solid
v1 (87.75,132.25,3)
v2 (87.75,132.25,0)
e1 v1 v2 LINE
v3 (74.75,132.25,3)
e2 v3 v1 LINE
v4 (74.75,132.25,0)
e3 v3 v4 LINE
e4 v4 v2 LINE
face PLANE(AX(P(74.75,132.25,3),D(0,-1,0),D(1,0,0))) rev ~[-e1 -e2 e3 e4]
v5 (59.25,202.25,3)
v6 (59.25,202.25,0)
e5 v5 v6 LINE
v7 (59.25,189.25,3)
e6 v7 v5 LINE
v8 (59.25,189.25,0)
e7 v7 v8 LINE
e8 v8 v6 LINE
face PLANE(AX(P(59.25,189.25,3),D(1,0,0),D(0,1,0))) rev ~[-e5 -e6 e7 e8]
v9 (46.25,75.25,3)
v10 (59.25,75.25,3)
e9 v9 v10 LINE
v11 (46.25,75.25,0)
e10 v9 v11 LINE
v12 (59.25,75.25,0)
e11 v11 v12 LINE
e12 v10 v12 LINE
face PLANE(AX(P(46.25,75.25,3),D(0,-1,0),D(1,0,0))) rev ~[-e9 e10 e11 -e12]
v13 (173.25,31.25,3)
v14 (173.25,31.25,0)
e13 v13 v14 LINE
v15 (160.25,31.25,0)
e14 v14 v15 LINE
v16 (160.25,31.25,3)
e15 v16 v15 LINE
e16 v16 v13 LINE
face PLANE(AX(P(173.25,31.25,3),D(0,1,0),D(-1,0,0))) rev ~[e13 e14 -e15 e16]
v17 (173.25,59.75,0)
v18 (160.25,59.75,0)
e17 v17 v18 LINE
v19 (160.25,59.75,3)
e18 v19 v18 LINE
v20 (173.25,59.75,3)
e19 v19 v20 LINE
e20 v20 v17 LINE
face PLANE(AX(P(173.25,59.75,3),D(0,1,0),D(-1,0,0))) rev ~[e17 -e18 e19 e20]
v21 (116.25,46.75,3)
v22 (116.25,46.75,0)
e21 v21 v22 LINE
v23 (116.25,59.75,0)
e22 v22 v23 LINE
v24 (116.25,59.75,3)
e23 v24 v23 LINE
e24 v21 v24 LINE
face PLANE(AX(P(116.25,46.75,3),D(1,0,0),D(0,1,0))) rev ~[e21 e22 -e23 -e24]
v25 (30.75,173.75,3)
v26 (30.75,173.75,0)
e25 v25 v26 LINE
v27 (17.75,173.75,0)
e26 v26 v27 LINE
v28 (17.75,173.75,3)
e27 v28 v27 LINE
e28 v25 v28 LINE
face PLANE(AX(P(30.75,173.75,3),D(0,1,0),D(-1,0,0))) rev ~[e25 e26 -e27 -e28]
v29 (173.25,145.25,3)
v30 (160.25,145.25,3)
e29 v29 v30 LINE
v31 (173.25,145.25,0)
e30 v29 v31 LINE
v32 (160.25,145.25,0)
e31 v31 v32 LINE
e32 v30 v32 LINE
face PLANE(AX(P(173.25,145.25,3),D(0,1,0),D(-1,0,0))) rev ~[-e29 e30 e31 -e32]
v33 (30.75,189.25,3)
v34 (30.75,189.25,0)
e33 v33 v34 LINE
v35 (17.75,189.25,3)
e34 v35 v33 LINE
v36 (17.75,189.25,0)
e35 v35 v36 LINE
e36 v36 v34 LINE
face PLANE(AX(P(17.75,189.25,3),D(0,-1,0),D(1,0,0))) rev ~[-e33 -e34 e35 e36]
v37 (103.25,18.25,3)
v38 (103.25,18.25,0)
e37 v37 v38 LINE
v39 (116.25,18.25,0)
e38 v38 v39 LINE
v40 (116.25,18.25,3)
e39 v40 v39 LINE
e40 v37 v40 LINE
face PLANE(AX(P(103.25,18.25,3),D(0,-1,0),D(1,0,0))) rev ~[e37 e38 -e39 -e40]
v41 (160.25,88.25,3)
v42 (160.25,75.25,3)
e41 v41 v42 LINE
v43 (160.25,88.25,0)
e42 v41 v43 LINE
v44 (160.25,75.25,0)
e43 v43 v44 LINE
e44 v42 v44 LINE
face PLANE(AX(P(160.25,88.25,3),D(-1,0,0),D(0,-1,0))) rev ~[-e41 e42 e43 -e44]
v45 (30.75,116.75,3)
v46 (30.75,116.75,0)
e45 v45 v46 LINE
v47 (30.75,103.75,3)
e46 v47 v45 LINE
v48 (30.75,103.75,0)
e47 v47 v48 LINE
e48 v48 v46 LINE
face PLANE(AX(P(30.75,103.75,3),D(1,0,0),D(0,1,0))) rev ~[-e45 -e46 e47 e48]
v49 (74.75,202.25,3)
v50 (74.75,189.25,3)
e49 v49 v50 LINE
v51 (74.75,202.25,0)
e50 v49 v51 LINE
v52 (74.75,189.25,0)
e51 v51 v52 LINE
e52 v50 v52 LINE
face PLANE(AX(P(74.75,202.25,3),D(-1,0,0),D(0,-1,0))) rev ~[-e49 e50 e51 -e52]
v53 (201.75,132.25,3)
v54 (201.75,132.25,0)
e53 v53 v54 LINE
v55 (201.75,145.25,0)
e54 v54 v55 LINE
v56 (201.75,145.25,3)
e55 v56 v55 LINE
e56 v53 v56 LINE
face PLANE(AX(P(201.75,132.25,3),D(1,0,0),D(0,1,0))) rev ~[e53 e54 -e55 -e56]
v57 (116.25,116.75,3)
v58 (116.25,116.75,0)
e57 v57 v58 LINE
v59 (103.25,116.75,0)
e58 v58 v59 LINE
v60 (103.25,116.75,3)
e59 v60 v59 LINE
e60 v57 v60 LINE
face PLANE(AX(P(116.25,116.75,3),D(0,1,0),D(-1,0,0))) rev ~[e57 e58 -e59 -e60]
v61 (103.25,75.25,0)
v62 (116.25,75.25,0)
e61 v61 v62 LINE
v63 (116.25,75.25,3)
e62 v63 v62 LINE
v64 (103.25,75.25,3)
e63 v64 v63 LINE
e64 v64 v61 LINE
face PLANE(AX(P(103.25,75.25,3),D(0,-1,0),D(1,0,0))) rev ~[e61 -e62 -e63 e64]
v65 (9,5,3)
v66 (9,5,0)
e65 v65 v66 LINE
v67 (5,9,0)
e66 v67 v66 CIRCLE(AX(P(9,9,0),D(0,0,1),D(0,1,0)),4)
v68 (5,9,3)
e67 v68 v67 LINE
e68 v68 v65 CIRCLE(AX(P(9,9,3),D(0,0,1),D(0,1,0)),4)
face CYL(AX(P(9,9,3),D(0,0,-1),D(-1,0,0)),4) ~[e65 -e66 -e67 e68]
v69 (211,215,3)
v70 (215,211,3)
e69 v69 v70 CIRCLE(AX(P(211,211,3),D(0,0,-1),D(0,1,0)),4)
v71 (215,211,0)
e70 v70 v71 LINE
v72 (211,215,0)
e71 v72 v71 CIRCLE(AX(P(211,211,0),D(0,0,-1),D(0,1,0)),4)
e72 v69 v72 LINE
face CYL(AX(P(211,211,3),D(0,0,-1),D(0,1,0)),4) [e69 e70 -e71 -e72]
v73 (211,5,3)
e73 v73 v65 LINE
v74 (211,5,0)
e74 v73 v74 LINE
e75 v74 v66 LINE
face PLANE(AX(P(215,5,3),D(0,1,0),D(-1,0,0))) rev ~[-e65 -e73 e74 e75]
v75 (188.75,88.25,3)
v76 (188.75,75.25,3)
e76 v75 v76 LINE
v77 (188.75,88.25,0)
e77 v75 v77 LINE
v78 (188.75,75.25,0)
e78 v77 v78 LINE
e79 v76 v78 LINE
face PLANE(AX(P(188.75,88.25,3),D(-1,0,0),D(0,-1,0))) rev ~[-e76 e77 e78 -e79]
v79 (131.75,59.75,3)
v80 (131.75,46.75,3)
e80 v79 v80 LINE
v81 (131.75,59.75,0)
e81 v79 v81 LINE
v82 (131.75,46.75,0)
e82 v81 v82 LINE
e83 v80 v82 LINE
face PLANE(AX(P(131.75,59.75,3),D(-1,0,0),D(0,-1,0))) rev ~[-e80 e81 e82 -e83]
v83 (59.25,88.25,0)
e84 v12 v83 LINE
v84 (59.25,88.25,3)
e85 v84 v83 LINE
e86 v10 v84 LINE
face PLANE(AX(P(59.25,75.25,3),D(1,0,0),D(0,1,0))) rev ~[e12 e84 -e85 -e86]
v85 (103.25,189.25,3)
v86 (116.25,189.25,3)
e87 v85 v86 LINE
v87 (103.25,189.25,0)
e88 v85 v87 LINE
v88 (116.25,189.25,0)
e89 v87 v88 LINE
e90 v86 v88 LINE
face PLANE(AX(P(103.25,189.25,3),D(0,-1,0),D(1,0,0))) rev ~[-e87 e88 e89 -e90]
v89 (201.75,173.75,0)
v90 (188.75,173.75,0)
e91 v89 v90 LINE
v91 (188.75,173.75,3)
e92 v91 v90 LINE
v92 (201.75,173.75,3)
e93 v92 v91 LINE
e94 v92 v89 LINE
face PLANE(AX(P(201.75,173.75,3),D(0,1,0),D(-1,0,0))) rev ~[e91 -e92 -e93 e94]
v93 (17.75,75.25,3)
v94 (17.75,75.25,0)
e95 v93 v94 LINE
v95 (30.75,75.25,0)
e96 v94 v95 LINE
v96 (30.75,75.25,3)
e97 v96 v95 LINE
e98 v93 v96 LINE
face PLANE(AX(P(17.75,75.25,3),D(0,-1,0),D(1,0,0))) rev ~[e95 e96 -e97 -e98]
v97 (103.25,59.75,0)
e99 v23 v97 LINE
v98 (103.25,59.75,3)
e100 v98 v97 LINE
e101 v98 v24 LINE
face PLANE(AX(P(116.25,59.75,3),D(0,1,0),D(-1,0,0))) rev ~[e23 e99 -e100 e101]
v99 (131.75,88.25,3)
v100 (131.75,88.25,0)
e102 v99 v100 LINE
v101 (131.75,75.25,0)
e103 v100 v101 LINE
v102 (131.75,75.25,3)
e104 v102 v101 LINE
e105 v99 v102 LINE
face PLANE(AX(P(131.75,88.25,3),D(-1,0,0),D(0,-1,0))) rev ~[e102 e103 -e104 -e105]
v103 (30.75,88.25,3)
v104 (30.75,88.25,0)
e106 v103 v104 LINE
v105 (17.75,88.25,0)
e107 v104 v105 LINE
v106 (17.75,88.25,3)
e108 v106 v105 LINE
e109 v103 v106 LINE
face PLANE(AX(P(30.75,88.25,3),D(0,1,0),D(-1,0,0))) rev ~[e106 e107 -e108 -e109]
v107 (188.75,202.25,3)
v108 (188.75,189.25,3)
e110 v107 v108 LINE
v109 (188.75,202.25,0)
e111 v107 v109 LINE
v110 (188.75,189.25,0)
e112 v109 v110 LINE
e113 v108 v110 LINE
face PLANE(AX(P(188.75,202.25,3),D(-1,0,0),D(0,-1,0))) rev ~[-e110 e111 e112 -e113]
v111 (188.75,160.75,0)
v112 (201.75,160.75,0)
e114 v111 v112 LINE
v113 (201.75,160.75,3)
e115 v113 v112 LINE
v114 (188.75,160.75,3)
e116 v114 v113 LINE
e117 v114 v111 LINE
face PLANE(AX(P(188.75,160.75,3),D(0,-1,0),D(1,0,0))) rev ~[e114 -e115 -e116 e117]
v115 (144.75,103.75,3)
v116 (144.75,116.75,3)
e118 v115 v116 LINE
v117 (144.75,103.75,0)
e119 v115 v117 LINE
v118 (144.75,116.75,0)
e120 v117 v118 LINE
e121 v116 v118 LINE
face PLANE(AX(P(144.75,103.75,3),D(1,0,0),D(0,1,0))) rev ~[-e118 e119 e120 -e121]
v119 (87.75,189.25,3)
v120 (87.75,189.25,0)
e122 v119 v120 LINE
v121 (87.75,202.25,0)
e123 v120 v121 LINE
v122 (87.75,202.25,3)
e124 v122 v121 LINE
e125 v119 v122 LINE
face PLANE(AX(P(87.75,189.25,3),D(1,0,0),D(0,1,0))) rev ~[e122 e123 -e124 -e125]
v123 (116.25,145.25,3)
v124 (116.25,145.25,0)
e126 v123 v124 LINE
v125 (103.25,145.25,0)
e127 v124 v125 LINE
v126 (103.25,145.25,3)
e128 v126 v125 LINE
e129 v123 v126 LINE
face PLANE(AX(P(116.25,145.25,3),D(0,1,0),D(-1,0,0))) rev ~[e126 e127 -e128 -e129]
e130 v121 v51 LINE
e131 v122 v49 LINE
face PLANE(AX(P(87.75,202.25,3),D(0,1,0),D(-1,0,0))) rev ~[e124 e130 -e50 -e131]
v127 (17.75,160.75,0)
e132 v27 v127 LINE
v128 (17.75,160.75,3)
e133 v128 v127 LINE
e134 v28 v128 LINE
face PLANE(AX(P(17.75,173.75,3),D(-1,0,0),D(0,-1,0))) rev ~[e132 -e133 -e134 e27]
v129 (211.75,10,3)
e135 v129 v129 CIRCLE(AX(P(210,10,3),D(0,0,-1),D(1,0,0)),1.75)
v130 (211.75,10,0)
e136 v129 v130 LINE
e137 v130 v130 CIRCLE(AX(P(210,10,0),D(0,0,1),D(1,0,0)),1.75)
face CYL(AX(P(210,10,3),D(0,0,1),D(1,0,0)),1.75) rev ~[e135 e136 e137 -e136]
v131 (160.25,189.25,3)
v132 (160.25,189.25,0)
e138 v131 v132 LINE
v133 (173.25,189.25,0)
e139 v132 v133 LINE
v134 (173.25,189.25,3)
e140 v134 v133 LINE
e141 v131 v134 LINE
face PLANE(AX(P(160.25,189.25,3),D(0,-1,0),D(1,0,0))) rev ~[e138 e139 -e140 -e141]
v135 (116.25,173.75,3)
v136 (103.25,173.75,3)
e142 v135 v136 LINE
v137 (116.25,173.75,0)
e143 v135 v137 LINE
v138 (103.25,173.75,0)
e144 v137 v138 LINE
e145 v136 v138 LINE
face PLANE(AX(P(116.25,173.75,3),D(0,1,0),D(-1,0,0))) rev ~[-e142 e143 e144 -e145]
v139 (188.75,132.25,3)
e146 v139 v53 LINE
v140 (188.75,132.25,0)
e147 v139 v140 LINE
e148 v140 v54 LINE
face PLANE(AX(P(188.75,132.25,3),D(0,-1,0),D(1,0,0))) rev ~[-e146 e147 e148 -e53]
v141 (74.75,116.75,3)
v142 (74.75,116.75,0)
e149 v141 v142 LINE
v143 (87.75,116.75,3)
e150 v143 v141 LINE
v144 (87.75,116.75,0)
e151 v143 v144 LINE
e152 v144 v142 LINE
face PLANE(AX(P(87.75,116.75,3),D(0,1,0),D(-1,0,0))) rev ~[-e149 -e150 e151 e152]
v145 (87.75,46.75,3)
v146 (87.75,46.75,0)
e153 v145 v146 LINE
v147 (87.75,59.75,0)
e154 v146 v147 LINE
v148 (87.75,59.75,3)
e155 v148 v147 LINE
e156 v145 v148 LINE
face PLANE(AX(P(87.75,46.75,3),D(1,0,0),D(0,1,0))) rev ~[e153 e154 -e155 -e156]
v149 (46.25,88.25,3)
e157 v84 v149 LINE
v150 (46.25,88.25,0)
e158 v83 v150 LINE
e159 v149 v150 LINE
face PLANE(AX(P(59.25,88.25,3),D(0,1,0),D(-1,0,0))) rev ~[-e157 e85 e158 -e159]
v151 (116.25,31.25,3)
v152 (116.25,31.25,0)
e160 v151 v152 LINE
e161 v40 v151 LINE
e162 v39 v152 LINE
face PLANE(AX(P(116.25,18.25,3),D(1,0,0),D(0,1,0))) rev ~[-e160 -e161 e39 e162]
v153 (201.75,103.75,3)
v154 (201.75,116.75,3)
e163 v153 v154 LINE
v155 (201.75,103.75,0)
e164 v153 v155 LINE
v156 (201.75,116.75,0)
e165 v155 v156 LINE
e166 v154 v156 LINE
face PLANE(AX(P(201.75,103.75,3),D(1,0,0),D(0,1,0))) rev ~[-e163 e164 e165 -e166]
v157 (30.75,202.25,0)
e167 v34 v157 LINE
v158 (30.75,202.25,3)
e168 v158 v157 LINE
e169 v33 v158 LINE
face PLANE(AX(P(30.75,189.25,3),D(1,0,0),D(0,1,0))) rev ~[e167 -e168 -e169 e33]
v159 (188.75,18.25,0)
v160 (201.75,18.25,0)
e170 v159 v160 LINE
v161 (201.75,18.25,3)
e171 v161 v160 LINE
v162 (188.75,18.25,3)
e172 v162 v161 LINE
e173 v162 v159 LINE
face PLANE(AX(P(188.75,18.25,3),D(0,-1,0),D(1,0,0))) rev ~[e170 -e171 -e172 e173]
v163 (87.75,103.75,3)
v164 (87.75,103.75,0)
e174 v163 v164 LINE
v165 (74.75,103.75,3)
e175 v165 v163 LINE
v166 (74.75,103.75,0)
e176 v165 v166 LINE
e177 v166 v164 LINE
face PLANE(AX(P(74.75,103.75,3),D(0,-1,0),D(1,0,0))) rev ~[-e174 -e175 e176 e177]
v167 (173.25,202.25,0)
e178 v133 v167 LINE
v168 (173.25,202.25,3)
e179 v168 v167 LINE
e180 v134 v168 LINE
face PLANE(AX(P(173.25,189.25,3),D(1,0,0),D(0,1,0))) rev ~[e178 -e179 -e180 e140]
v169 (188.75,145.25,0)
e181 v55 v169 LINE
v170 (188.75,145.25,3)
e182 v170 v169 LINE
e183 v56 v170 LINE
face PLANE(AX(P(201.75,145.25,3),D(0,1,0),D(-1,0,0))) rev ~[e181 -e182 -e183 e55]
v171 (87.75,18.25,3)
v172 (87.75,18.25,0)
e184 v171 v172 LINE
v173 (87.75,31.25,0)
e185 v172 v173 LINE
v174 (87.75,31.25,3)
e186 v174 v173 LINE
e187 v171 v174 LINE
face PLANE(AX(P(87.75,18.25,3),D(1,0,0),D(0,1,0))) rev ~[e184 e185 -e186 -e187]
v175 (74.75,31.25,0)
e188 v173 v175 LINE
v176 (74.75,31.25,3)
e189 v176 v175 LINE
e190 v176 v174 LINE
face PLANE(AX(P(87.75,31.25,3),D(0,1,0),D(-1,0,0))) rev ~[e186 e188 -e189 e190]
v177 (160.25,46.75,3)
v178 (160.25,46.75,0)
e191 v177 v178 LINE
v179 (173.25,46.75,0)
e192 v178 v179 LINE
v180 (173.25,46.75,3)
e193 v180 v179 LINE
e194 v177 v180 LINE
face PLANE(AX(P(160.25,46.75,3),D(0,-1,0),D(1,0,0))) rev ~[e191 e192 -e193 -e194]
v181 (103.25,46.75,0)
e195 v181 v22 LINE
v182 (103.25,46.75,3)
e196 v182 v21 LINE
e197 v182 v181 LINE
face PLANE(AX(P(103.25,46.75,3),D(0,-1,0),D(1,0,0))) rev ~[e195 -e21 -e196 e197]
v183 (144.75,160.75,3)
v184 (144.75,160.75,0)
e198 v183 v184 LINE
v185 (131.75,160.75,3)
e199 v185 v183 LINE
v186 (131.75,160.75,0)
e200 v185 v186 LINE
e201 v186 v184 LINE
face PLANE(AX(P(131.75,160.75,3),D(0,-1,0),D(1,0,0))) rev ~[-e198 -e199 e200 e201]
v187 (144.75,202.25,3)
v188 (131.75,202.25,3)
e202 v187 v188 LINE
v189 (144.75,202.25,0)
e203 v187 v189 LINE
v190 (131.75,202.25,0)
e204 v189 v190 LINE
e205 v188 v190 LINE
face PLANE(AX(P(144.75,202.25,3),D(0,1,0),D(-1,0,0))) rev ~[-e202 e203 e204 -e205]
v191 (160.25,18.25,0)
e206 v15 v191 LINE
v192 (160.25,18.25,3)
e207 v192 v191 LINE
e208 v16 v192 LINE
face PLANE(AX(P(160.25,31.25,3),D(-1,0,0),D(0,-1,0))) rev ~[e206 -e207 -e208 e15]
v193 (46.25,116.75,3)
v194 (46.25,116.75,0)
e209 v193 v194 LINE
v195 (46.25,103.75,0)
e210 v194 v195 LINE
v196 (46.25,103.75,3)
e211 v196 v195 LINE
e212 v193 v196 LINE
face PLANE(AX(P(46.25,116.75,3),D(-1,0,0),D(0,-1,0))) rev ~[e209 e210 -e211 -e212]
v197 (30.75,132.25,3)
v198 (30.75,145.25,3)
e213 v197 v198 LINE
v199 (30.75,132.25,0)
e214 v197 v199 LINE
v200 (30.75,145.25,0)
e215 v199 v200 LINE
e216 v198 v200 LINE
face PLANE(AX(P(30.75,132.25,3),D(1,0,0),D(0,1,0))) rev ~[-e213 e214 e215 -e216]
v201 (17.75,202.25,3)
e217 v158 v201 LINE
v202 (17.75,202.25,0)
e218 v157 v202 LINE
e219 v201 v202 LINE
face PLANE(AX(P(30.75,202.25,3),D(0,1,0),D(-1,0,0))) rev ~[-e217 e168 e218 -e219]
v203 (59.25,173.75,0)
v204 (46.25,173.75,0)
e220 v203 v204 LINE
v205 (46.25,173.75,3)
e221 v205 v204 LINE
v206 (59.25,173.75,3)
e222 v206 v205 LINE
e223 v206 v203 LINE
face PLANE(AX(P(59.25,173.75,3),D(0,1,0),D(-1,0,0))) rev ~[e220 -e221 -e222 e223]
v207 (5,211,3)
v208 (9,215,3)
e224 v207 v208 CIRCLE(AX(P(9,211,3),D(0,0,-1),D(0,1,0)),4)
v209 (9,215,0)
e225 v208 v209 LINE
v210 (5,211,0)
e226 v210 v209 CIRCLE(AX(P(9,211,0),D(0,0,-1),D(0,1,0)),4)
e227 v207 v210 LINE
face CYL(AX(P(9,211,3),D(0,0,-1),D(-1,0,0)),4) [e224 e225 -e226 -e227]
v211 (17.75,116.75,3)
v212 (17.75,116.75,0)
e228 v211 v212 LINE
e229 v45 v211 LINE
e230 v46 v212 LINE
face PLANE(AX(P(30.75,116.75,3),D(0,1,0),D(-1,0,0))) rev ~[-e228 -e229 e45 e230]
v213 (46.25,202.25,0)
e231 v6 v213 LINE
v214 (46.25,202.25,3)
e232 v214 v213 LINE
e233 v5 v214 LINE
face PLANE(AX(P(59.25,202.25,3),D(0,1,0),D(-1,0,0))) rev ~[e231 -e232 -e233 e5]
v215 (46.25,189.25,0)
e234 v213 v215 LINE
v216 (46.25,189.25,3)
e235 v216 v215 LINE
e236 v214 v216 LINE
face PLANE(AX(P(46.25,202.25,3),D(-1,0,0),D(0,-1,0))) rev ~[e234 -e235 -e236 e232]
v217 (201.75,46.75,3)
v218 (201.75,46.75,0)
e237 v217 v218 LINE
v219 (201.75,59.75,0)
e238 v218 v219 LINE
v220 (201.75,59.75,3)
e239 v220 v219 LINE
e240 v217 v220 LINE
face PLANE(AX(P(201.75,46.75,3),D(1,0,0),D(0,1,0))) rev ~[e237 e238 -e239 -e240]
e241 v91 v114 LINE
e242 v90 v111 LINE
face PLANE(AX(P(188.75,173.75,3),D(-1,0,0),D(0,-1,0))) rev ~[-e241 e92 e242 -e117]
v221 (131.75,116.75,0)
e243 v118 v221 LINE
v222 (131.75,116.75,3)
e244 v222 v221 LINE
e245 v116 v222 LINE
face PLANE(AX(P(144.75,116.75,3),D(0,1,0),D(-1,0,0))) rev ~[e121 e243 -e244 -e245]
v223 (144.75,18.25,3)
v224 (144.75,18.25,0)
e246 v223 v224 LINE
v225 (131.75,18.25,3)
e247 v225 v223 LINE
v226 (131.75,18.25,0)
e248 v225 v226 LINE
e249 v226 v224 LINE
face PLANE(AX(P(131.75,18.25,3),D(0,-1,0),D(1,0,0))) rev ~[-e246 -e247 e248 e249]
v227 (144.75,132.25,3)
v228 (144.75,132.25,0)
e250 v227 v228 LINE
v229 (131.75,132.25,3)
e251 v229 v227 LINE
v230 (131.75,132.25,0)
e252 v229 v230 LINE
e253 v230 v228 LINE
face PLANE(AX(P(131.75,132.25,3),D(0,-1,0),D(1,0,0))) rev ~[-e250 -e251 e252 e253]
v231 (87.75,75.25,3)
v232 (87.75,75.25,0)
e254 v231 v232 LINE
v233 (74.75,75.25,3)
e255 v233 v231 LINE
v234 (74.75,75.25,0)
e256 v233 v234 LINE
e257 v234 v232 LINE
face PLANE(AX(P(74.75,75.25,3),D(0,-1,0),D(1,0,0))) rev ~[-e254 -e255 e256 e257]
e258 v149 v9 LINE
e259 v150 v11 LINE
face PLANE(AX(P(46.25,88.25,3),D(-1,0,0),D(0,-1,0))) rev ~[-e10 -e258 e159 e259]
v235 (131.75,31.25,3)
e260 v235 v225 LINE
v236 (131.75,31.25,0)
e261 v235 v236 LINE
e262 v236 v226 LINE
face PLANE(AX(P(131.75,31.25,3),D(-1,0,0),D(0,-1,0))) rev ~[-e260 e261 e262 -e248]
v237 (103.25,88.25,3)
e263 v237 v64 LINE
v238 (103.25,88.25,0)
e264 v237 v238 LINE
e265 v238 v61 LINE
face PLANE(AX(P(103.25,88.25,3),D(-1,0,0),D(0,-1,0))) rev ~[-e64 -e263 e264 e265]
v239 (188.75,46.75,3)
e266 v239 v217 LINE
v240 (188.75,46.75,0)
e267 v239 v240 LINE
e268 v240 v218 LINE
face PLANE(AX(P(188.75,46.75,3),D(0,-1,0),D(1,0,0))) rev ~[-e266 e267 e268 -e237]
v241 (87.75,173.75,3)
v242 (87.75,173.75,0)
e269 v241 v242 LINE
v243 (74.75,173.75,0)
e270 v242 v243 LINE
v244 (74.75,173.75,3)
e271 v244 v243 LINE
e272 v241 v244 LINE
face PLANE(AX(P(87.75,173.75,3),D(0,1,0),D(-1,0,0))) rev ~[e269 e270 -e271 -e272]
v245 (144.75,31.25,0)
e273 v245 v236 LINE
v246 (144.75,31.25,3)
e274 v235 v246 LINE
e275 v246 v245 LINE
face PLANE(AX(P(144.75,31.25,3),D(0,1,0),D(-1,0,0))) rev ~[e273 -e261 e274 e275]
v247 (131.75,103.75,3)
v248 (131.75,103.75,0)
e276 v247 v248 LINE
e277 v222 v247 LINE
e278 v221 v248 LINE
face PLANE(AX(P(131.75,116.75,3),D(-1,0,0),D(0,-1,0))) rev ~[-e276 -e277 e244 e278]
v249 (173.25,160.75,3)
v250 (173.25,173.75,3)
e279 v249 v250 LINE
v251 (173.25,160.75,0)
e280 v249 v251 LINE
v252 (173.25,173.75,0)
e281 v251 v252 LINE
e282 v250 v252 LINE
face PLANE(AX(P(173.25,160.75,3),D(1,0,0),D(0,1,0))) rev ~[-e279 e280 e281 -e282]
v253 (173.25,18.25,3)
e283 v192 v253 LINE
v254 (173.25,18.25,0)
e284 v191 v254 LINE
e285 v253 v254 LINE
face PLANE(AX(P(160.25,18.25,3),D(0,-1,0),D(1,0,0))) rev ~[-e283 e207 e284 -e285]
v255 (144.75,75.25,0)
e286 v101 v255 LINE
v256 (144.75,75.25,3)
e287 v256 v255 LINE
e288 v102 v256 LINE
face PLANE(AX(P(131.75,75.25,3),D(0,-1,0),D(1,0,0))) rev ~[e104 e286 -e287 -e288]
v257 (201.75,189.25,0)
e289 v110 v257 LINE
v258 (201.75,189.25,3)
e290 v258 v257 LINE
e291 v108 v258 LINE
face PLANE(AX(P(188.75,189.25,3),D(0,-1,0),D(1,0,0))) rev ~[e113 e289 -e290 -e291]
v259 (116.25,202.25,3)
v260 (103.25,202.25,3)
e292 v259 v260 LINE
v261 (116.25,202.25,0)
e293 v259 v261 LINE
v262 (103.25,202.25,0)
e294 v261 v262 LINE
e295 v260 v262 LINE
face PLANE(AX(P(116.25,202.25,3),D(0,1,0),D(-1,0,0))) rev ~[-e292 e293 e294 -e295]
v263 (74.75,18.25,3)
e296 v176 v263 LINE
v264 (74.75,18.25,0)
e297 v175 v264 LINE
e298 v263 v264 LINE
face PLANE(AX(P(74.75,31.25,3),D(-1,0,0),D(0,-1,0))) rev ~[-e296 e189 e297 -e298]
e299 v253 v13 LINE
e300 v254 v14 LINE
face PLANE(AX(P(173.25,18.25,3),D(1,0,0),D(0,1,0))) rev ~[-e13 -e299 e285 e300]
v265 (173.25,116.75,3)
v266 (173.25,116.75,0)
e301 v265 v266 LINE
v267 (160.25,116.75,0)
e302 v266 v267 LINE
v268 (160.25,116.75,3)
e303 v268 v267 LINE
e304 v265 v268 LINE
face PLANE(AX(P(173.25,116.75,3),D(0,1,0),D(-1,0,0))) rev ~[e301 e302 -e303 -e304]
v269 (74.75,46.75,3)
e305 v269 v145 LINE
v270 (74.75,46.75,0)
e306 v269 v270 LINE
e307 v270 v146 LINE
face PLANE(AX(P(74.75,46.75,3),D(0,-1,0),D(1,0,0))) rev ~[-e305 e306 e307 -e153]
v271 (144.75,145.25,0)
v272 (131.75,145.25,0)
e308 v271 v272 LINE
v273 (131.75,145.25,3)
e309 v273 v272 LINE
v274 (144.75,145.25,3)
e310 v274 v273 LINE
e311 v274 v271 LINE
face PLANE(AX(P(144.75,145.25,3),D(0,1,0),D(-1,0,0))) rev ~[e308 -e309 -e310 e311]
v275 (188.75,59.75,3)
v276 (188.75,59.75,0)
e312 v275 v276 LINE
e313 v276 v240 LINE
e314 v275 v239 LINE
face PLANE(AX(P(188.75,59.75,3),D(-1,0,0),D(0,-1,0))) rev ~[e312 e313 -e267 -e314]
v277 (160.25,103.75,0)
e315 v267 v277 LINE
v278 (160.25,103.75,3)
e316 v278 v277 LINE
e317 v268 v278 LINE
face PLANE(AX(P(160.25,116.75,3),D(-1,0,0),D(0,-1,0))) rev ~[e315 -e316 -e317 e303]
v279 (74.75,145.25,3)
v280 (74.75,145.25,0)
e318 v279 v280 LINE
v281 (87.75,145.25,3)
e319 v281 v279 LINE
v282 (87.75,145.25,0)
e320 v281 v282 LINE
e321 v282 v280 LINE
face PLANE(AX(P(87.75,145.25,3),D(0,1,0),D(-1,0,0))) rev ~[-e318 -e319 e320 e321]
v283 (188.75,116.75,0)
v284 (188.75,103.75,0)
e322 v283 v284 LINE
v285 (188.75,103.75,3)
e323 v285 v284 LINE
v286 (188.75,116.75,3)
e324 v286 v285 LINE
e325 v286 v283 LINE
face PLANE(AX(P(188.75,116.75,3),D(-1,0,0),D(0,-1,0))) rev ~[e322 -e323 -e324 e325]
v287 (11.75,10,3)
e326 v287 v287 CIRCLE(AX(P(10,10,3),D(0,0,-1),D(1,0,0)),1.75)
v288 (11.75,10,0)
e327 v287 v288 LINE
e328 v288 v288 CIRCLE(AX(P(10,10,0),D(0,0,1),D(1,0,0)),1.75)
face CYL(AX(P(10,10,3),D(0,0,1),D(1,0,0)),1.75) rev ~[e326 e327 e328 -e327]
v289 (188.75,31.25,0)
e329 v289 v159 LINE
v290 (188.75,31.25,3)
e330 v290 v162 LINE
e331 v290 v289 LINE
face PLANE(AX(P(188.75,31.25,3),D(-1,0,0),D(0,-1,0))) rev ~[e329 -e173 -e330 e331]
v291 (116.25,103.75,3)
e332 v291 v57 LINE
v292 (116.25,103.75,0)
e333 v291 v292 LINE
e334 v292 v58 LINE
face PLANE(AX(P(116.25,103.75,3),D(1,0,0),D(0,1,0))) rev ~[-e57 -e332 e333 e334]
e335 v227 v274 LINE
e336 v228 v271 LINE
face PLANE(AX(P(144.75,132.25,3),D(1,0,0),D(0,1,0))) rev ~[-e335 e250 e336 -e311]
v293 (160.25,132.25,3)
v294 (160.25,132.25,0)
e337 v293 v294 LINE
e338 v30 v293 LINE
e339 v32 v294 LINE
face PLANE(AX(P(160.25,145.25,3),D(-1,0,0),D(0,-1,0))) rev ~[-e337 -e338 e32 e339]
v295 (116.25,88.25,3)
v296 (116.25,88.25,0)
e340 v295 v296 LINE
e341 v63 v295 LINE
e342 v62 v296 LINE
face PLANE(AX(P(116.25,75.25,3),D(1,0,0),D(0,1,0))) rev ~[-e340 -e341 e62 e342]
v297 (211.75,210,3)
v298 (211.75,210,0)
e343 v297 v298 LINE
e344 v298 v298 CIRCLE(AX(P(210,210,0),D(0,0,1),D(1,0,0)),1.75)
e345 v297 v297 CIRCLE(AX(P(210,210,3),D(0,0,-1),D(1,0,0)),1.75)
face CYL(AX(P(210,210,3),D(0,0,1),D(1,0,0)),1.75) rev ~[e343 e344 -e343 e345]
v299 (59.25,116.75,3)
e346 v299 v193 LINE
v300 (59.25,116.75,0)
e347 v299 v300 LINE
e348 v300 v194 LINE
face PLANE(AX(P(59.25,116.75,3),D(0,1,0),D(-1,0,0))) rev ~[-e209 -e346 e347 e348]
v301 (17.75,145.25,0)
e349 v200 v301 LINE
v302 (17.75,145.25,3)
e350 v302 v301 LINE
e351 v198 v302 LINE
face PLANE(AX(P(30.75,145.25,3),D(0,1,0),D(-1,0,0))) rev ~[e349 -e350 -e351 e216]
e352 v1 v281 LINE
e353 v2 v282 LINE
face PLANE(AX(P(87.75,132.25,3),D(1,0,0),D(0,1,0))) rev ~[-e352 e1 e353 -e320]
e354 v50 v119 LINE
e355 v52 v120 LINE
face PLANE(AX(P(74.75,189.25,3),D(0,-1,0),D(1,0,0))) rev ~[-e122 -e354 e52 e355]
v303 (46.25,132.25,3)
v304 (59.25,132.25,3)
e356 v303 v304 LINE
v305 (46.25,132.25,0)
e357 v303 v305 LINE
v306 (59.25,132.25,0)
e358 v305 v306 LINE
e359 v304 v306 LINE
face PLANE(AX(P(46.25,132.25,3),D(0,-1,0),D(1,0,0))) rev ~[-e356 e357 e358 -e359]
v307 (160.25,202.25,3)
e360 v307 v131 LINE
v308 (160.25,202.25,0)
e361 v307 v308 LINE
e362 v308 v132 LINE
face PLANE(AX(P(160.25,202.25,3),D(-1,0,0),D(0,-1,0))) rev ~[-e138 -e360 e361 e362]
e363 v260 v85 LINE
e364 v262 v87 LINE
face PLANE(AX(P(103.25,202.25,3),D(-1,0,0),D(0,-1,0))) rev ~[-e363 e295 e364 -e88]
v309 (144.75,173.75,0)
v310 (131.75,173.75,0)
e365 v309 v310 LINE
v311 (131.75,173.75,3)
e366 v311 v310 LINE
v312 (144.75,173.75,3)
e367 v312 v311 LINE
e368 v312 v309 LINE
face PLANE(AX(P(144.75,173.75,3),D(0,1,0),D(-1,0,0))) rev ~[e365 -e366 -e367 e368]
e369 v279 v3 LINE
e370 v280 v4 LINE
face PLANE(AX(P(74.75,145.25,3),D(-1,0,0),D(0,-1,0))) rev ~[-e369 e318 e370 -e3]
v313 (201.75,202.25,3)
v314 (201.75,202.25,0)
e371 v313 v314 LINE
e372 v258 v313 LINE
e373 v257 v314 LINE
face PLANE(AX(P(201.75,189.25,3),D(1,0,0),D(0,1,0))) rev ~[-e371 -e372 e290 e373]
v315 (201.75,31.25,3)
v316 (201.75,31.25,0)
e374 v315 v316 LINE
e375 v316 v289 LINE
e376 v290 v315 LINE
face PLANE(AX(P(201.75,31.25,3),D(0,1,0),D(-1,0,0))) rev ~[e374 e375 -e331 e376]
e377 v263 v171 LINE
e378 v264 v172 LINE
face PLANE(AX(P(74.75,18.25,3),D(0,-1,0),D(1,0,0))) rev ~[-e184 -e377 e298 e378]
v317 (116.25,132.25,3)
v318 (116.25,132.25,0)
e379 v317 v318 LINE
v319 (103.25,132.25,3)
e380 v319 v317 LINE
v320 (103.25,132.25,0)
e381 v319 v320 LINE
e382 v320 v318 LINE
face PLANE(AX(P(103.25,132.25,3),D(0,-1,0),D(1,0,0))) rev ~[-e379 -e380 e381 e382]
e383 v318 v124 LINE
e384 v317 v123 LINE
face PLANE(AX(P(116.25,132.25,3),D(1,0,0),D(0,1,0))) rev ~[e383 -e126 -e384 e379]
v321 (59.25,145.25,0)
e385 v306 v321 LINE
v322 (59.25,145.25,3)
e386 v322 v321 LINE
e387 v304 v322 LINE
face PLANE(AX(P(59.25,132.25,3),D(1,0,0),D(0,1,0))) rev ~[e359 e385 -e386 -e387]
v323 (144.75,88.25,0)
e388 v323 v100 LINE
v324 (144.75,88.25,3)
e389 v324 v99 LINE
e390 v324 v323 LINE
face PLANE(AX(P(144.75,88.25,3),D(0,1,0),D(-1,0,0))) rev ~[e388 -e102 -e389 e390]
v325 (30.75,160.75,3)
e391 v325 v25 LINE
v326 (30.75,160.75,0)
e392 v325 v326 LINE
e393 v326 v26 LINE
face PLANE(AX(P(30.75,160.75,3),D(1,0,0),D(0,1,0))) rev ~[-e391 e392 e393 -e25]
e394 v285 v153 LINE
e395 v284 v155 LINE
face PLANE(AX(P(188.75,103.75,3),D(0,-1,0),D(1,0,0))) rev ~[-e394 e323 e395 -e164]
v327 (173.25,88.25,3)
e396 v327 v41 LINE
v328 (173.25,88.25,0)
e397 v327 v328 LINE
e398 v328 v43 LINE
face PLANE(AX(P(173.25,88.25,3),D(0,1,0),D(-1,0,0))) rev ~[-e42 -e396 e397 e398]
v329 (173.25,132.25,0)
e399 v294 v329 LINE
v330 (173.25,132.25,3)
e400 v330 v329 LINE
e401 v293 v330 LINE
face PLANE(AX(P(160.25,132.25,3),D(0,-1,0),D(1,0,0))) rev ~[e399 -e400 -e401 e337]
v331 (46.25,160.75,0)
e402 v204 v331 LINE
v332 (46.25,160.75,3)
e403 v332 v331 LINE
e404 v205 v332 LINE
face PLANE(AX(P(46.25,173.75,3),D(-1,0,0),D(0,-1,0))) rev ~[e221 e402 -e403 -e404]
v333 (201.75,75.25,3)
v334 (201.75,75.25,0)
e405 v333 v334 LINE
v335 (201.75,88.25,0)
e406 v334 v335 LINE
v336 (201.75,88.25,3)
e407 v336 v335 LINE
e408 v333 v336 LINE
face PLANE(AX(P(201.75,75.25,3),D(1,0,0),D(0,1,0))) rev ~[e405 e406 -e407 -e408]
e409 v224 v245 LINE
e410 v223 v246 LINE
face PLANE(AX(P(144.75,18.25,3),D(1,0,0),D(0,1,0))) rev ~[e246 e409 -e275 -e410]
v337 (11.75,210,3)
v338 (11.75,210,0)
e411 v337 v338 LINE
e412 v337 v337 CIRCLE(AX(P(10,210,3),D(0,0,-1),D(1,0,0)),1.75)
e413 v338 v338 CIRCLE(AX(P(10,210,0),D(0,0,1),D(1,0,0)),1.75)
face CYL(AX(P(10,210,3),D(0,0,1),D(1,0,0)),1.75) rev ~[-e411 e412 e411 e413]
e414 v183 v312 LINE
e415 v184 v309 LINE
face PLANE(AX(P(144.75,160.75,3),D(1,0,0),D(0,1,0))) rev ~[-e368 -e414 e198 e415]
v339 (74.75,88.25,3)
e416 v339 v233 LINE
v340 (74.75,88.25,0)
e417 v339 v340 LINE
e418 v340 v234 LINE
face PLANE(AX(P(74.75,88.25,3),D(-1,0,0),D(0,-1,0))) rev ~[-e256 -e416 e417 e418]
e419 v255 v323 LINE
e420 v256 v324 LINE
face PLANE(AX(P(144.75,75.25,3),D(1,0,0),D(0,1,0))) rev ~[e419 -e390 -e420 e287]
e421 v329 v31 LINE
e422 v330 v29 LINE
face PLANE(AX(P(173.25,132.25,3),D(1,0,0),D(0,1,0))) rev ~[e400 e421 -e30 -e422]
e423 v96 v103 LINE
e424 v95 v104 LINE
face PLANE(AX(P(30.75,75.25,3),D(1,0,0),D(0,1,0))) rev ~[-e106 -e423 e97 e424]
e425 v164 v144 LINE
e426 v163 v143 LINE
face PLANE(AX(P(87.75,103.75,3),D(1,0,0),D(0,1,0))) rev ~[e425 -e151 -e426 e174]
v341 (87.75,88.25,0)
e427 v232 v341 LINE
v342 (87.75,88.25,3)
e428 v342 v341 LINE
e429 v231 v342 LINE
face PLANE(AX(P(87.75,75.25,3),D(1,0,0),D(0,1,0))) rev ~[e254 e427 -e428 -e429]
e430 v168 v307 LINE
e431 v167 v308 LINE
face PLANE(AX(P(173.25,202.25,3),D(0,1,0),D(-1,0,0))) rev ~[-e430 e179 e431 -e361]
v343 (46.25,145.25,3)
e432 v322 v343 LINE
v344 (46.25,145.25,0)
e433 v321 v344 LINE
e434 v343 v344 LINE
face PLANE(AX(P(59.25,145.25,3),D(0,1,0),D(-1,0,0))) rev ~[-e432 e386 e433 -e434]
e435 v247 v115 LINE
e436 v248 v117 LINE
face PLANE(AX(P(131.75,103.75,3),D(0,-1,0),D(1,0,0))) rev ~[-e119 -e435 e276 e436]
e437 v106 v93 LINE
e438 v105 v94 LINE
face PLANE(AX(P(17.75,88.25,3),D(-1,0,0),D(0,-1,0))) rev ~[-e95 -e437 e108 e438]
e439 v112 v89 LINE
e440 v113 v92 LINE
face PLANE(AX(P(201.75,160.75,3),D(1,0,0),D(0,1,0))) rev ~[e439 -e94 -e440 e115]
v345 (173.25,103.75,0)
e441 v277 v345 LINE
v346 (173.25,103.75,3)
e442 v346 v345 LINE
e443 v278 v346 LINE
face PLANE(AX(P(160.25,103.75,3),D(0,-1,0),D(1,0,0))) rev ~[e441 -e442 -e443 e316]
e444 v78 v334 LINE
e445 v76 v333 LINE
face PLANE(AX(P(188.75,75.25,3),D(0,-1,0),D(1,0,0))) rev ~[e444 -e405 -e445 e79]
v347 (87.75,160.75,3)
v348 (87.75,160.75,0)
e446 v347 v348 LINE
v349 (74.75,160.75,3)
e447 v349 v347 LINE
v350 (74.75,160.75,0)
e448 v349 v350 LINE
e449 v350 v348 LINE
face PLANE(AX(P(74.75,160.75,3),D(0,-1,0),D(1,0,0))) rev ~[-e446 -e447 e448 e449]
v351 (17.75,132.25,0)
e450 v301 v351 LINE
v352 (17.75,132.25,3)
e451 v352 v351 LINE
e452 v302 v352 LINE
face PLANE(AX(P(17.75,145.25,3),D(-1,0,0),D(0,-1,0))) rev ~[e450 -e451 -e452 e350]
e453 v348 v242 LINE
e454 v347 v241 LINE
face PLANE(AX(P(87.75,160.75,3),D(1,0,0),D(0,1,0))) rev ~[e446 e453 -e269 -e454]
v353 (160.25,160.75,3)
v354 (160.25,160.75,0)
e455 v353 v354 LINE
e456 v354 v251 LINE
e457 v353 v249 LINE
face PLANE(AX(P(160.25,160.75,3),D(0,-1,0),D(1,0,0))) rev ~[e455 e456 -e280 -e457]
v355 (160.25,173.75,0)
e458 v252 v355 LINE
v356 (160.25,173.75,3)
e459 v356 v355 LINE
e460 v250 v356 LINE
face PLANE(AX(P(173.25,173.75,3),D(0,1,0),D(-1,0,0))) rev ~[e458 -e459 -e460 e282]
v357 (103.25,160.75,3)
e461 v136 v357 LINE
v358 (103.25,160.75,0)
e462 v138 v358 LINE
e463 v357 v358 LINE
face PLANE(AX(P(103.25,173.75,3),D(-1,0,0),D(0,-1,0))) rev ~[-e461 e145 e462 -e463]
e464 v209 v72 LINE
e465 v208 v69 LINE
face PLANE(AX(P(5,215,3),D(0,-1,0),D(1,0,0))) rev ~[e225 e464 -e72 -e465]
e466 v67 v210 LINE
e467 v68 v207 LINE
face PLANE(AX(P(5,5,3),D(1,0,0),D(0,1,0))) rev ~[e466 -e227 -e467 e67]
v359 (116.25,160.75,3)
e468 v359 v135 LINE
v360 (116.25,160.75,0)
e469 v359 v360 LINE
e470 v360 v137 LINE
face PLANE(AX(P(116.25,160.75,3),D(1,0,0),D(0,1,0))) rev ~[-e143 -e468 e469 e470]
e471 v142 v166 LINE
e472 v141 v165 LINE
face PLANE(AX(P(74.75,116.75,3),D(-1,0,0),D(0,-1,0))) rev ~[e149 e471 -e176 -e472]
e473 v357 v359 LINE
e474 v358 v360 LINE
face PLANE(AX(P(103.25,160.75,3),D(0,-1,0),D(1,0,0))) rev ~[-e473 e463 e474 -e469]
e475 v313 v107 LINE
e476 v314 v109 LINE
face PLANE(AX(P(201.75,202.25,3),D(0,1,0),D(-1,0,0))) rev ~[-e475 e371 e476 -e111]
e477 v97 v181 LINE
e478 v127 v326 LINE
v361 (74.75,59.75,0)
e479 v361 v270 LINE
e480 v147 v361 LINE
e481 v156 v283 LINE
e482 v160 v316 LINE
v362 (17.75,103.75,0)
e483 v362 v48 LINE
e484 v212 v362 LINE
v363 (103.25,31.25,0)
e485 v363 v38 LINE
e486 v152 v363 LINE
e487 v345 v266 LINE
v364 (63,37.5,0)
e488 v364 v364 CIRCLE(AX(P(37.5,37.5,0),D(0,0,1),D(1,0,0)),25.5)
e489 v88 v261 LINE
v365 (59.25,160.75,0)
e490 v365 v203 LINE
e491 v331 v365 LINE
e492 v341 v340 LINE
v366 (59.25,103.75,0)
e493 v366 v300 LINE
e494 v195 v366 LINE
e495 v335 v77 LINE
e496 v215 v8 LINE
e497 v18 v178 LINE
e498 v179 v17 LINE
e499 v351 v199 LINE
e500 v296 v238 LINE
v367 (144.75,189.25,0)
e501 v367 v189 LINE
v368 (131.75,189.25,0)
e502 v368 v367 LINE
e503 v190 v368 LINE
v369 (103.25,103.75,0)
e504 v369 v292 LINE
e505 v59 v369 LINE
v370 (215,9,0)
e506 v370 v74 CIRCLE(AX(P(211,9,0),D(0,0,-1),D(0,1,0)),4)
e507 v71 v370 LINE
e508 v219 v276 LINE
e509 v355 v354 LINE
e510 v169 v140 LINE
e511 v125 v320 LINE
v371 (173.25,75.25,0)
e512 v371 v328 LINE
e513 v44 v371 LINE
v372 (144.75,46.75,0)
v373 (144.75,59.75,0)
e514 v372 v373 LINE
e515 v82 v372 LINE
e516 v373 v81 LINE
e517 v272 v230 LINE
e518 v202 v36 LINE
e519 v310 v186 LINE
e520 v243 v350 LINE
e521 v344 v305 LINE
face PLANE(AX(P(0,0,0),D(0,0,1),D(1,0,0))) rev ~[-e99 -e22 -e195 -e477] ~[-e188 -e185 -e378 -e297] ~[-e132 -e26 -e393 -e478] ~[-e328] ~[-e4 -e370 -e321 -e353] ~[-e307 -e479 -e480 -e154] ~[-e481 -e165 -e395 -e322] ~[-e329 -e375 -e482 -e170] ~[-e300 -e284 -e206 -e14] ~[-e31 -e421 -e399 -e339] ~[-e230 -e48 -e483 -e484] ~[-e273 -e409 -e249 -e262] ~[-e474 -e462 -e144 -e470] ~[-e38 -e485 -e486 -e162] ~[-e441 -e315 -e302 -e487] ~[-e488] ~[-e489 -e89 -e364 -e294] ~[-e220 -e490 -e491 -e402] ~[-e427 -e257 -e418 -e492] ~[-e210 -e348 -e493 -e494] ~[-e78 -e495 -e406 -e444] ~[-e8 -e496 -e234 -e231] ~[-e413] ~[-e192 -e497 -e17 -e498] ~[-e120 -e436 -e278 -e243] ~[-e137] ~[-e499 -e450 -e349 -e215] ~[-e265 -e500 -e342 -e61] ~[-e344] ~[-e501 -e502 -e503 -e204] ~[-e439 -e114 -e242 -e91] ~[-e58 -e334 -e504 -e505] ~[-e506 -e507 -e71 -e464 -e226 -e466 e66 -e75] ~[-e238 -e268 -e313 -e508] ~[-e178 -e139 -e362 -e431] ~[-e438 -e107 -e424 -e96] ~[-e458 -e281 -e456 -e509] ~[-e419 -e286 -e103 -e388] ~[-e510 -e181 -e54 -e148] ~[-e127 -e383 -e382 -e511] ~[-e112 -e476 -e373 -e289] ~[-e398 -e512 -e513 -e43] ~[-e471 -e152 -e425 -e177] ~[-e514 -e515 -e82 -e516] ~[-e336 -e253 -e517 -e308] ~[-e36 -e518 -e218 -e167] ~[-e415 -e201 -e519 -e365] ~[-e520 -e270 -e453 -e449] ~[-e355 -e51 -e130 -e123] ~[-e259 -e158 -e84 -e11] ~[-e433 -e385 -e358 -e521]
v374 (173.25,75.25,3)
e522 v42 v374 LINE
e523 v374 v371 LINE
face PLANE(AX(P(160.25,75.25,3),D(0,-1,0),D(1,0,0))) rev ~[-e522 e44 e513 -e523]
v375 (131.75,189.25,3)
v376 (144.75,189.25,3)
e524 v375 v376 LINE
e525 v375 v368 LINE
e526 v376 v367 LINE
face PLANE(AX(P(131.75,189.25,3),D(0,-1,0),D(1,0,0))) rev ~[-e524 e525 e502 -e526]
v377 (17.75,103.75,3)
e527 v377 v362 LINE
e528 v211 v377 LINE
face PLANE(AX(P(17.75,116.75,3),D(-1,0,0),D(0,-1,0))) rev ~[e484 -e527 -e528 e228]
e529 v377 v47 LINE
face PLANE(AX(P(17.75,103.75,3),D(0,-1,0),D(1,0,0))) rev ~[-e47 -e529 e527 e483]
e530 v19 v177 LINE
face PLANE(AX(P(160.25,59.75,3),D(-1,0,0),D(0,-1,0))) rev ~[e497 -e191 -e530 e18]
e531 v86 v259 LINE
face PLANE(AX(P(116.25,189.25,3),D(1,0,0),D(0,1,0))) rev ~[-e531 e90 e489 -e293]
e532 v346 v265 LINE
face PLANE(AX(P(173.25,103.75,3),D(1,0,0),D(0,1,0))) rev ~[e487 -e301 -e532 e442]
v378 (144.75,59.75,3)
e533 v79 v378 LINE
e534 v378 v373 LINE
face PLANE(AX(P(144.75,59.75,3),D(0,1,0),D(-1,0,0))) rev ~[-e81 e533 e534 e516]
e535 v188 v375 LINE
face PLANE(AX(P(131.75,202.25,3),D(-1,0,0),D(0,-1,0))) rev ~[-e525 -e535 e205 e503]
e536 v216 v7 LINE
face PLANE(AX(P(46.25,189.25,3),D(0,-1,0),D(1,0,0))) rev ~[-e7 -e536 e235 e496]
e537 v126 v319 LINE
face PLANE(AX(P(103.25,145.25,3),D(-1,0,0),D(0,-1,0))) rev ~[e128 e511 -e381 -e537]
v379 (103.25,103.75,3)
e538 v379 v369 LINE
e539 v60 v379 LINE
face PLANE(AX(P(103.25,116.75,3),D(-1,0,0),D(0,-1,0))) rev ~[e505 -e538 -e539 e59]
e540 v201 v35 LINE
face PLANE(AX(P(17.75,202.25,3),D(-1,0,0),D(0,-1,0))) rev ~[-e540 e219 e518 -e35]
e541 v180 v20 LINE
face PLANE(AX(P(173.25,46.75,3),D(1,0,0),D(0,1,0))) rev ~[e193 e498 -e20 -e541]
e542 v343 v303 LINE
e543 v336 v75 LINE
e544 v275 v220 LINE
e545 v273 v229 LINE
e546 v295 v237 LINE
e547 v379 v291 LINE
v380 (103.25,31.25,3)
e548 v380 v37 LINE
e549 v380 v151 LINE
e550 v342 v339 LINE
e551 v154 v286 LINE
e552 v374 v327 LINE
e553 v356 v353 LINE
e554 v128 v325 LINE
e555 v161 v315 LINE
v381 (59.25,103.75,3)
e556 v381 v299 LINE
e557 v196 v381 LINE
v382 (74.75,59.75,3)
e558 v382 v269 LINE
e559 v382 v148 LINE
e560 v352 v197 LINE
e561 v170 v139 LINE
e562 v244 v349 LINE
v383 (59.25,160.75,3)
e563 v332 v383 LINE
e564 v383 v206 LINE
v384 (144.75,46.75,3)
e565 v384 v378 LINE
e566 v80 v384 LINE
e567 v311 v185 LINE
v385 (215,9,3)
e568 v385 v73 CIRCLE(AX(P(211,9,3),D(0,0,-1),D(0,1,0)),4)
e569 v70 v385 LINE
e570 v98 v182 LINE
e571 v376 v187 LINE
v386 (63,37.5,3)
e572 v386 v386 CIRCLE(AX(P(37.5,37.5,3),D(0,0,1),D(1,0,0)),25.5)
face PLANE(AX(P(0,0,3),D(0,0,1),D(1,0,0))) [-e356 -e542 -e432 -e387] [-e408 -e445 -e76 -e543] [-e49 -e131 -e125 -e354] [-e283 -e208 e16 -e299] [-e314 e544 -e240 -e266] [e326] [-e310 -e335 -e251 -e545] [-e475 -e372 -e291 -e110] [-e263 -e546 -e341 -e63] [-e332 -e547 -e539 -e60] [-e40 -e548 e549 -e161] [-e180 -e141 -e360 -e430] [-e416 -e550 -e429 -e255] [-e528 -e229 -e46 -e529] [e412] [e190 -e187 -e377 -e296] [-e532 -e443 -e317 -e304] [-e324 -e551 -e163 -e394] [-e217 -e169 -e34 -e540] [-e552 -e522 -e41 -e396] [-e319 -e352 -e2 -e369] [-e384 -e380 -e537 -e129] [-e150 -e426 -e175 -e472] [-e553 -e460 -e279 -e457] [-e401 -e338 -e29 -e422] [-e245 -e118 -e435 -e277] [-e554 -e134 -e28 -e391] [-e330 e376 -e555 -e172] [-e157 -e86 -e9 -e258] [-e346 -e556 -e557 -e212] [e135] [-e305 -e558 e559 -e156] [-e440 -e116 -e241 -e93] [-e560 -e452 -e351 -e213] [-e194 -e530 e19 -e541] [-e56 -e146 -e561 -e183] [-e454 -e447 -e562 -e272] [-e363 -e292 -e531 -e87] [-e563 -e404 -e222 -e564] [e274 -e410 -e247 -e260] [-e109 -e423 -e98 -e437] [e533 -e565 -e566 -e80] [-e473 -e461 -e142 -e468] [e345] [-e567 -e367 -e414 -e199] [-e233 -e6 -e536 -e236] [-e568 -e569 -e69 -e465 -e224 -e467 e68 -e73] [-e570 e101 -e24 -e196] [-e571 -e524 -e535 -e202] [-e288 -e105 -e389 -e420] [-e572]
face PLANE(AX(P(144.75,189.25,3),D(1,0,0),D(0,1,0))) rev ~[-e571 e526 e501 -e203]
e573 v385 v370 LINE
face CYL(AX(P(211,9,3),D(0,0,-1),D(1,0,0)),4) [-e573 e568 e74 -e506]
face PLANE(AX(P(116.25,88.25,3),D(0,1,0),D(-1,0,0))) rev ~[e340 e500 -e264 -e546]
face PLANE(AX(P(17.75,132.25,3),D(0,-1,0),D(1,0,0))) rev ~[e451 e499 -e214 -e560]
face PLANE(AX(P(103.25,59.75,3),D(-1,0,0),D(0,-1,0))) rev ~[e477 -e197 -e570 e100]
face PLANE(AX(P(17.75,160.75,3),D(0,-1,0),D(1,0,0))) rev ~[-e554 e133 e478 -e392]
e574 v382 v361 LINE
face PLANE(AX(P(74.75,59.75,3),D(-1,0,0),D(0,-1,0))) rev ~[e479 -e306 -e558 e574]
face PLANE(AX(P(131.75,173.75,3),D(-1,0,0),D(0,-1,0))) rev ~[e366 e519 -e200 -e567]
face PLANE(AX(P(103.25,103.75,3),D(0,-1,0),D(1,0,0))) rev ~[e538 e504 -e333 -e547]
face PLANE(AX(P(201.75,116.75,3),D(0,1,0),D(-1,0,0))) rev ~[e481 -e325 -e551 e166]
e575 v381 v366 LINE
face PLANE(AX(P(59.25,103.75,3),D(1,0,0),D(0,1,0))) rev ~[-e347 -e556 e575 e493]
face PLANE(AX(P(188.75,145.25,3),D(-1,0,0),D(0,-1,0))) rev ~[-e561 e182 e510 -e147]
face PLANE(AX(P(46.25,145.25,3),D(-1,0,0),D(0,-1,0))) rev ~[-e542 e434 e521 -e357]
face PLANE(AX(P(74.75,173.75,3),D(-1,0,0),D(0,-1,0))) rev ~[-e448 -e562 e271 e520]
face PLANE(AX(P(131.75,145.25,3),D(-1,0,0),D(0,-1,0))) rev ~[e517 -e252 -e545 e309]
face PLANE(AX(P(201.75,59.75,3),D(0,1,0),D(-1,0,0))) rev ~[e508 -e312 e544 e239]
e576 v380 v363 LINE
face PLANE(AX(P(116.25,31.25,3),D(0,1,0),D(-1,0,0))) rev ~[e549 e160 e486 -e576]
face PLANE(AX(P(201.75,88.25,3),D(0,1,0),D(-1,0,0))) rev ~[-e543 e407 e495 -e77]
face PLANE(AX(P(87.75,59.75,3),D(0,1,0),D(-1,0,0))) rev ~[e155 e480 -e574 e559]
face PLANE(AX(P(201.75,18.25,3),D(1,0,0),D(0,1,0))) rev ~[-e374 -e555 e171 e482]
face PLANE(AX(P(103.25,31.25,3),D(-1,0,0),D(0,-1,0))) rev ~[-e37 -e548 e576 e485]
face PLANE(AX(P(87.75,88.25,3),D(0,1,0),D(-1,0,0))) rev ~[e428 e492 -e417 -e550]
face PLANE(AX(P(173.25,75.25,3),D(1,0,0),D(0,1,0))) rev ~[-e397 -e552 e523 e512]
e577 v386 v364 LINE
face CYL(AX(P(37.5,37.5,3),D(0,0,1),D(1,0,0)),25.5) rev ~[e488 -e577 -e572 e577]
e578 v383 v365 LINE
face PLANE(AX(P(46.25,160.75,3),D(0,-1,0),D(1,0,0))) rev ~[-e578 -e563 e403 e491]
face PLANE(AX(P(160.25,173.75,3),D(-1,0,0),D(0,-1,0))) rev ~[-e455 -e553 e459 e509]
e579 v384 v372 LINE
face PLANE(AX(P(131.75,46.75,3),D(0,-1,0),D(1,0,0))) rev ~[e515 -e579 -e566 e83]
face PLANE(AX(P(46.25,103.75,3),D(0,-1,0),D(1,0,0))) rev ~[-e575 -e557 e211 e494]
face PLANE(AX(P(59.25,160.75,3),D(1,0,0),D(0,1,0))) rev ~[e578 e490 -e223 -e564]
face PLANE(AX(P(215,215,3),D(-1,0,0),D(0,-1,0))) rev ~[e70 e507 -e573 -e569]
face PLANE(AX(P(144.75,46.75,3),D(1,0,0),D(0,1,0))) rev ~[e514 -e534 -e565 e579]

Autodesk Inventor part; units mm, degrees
ref_plane "YZ Plane" through (0, 0, 0) normal (1, 0, 0) x (0, 1, 0)
ref_plane "XZ Plane" through (0, 0, 0) normal (0, 1, 0) x (-1, 0, 0)
ref_plane "XY Plane" through (0, 0, 0) normal (0, 0, 1) x (1, 0, 0)
sketch "Sketch1" plane through (0, 0, 0) normal (0, 0, 1) x (1, 0, 0)
  line L0 (0, 0) -> (220, 0)
  line L1 (220, 0) -> (220, 220)
  line L2 (220, 220) -> (0, 220)
  line L3 (0, 220) -> (0, 0)
  dimension "d0" = 220
  dimension "d1" = 220
extrude "Extrusion1" add sketch "Sketch1" along normal blind 3
sketch "Sketch2" plane through (0, 0, 3) normal (0, 0, 1) x (1, 0, 0)
  line L0 (10, 210) -> (210, 210)
  line L1 (210, 210) -> (210, 10)
  line L2 (210, 10) -> (10, 10)
  line L3 (10, 10) -> (10, 210)
  line L4 (10, 210) -> (210, 10) construction
  line L5 (210, 210) -> (10, 10) construction
  line L6 (10, 210) -> (38.5, 210)
  line L7 (38.5, 210) -> (38.5, 181.5)
  line L8 (38.5, 181.5) -> (10, 181.5)
  line L9 (10, 181.5) -> (10, 210)
  circle A0 centre (24.25, 195.75) radius 10.25
  line L10 (17.75, 189.25) -> (30.75, 189.25)
  line L11 (30.75, 189.25) -> (30.75, 202.25)
  line L12 (30.75, 202.25) -> (17.75, 202.25)
  line L13 (17.75, 202.25) -> (17.75, 189.25)
  line L14 (17.75, 189.25) -> (30.75, 202.25) construction
  line L15 (30.75, 189.25) -> (17.75, 202.25) construction
  point P0 (0, 0)
  point P1 (110, 110)
  dimension "d4" = 200
  dimension "d5" = 200
  dimension "d6" = 28.5
  dimension "d7" = 28.5
  dimension "d8" = 20.5
  dimension "d41" = 13
  dimension "d42" = 13
extrude "Extrusion2" cut sketch "Sketch2" against normal blind 3 contours L13 L12 L11 L10
pattern_linear "Rectangular Pattern1" count 7 spacing 28.5 along (1, 0, 0) count 5 spacing 28.5 along (0, -1, 0) of "Extrusion2"
sketch "Sketch4" plane through (0, 0, 3) normal (0, 0, 1) x (1, 0, 0)
  line L0 (210, 10) -> (10, 10)
  line L1 (10, 10) -> (10, 210)
  line L2 (10, 210) -> (210, 210)
  line L3 (210, 210) -> (210, 10)
  line L4 (210, 10) -> (10, 210) construction
  line L5 (10, 10) -> (210, 210) construction
  circle A0 centre (81.25, 81.75) radius 10.25 projected
  line L6 (81.25, 81.75) -> (81.25, 53.25)
  circle A1 centre (81.25, 53.25) radius 10.25
  line L7 (74.75, 46.75) -> (87.75, 46.75)
  line L8 (87.75, 46.75) -> (87.75, 59.75)
  line L9 (87.75, 59.75) -> (74.75, 59.75)
  line L10 (74.75, 59.75) -> (74.75, 46.75)
  line L11 (74.75, 46.75) -> (87.75, 59.75) construction
  line L12 (87.75, 46.75) -> (74.75, 59.75) construction
  point P0 (0, 0)
  point P1 (110, 110)
  dimension "d24" = 200
  dimension "d25" = 200
  dimension "d26" = 28.5
  dimension "d27" = 20.5
  dimension "d43" = 13
  dimension "d44" = 13
extrude "Extrusion4" cut sketch "Sketch4" against normal blind 3 contours L9 L8 L7 L10
pattern_linear "Rectangular Pattern2" count 2 spacing 28.5 along (0, -1, 0) count 5 spacing 28.5 along (1, 0, 0) of "Extrusion4"
sketch "Sketch5" plane through (0, 0, 3) normal (0, 0, 1) x (1, 0, 0)
  line L0 (0, 0) -> (220, 0) projected
  line L1 (0, 0) -> (0, 5)
  line L2 (0, 220) -> (0, 0) projected
  line L3 (0, 5) -> (5, 5)
  circle A0 centre (5, 5) radius 1.5
  line L4 (220, 220) -> (0, 220) projected
  line L5 (110, 220) -> (110, 0)
  line L6 (220, 0) -> (220, 220) projected
  line L7 (220, 110) -> (0, 110)
  circle A1 centre (215, 5) radius 1.5
  circle A2 centre (5, 215) radius 1.5
  circle A3 centre (215, 215) radius 1.5
  dimension "d36" = 5
  dimension "d37" = 5
  dimension "d38" = 3
extrude "Extrusion5" [suppressed]
sketch "Sketch6" plane through (0, 0, 3) normal (0, 0, 1) x (1, 0, 0)
  point P0 (0, 0)
sketch "Sketch3" plane through (0, 0, 3) normal (0, 0, 1) x (1, 0, 0)
  line L0 (10, 10) -> (210, 10)
  line L1 (210, 10) -> (210, 210)
  line L2 (210, 210) -> (10, 210)
  line L3 (10, 210) -> (10, 10)
  line L4 (10, 10) -> (210, 210) construction
  line L5 (210, 10) -> (10, 210) construction
  line L6 (10, 10) -> (65, 10)
  line L7 (65, 10) -> (65, 65)
  line L8 (65, 65) -> (10, 65)
  line L9 (10, 65) -> (10, 10)
  circle A0 centre (37.5, 37.5) radius 25.5
  point P0 (0, 0)
  point P1 (110, 110)
  dimension "d17" = 200
  dimension "d18" = 200
  dimension "d19" = 55
  dimension "d20" = 55
  dimension "d21" = 51
extrude "Extrusion3" cut sketch "Sketch3" against normal blind 3 contours A0
fillet "Fillet1" radius 2 4 edges at (220, 220, 1.5) (220, 0, 1.5) (0, 0, 1.5) (0, 220, 1.5)
sketch "Sketch8" plane through (0, 0, 3) normal (0, 0, 1) x (1, 0, 0)
  line L0 (0, 0) -> (220, 0)
  line L1 (220, 0) -> (220, 220)
  line L2 (220, 220) -> (0, 220)
  line L3 (0, 220) -> (0, 0)
  line L4 (10, 210) -> (210, 210)
  line L5 (210, 210) -> (210, 10)
  line L6 (210, 10) -> (10, 10)
  line L7 (10, 10) -> (10, 210)
  line L8 (10, 210) -> (210, 10) construction
  line L9 (210, 210) -> (10, 10) construction
  line L10 (5, 215) -> (215, 215)
  line L11 (215, 215) -> (215, 5)
  line L12 (215, 5) -> (5, 5)
  line L13 (5, 5) -> (5, 215)
  line L14 (5, 215) -> (215, 5) construction
  line L15 (215, 215) -> (5, 5) construction
  circle A0 centre (10, 10) radius 1.75
  circle A1 centre (10, 210) radius 1.75
  circle A2 centre (210, 10) radius 1.75
  circle A3 centre (210, 210) radius 1.75
  point P0 (110, 110)
  point P1 (110, 110)
  dimension "d59" = 200
  dimension "d60" = 200
  dimension "d61" = 210
  dimension "d62" = 210
  dimension "d63" = 3.5
  dimension "d66" = 200
  dimension "d69" = 200
extrude "Extrusion7" cut sketch "Sketch8" against normal blind 10 contours L3 L2 L1 L0 | L7 A1 L4 | L4 A1 L7 | A3 L5 L4 | L4 L5 A3 | A0 L6 L7 | L7 L6 A0 | A2 L6 L5 | L5 L6 A2
fillet "Fillet2" radius 4 4 edges at (215, 215, 1.5) (215, 5, 1.5) (5, 215, 1.5) (5, 5, 1.5)
properties part number "plade til cuvetter top"
